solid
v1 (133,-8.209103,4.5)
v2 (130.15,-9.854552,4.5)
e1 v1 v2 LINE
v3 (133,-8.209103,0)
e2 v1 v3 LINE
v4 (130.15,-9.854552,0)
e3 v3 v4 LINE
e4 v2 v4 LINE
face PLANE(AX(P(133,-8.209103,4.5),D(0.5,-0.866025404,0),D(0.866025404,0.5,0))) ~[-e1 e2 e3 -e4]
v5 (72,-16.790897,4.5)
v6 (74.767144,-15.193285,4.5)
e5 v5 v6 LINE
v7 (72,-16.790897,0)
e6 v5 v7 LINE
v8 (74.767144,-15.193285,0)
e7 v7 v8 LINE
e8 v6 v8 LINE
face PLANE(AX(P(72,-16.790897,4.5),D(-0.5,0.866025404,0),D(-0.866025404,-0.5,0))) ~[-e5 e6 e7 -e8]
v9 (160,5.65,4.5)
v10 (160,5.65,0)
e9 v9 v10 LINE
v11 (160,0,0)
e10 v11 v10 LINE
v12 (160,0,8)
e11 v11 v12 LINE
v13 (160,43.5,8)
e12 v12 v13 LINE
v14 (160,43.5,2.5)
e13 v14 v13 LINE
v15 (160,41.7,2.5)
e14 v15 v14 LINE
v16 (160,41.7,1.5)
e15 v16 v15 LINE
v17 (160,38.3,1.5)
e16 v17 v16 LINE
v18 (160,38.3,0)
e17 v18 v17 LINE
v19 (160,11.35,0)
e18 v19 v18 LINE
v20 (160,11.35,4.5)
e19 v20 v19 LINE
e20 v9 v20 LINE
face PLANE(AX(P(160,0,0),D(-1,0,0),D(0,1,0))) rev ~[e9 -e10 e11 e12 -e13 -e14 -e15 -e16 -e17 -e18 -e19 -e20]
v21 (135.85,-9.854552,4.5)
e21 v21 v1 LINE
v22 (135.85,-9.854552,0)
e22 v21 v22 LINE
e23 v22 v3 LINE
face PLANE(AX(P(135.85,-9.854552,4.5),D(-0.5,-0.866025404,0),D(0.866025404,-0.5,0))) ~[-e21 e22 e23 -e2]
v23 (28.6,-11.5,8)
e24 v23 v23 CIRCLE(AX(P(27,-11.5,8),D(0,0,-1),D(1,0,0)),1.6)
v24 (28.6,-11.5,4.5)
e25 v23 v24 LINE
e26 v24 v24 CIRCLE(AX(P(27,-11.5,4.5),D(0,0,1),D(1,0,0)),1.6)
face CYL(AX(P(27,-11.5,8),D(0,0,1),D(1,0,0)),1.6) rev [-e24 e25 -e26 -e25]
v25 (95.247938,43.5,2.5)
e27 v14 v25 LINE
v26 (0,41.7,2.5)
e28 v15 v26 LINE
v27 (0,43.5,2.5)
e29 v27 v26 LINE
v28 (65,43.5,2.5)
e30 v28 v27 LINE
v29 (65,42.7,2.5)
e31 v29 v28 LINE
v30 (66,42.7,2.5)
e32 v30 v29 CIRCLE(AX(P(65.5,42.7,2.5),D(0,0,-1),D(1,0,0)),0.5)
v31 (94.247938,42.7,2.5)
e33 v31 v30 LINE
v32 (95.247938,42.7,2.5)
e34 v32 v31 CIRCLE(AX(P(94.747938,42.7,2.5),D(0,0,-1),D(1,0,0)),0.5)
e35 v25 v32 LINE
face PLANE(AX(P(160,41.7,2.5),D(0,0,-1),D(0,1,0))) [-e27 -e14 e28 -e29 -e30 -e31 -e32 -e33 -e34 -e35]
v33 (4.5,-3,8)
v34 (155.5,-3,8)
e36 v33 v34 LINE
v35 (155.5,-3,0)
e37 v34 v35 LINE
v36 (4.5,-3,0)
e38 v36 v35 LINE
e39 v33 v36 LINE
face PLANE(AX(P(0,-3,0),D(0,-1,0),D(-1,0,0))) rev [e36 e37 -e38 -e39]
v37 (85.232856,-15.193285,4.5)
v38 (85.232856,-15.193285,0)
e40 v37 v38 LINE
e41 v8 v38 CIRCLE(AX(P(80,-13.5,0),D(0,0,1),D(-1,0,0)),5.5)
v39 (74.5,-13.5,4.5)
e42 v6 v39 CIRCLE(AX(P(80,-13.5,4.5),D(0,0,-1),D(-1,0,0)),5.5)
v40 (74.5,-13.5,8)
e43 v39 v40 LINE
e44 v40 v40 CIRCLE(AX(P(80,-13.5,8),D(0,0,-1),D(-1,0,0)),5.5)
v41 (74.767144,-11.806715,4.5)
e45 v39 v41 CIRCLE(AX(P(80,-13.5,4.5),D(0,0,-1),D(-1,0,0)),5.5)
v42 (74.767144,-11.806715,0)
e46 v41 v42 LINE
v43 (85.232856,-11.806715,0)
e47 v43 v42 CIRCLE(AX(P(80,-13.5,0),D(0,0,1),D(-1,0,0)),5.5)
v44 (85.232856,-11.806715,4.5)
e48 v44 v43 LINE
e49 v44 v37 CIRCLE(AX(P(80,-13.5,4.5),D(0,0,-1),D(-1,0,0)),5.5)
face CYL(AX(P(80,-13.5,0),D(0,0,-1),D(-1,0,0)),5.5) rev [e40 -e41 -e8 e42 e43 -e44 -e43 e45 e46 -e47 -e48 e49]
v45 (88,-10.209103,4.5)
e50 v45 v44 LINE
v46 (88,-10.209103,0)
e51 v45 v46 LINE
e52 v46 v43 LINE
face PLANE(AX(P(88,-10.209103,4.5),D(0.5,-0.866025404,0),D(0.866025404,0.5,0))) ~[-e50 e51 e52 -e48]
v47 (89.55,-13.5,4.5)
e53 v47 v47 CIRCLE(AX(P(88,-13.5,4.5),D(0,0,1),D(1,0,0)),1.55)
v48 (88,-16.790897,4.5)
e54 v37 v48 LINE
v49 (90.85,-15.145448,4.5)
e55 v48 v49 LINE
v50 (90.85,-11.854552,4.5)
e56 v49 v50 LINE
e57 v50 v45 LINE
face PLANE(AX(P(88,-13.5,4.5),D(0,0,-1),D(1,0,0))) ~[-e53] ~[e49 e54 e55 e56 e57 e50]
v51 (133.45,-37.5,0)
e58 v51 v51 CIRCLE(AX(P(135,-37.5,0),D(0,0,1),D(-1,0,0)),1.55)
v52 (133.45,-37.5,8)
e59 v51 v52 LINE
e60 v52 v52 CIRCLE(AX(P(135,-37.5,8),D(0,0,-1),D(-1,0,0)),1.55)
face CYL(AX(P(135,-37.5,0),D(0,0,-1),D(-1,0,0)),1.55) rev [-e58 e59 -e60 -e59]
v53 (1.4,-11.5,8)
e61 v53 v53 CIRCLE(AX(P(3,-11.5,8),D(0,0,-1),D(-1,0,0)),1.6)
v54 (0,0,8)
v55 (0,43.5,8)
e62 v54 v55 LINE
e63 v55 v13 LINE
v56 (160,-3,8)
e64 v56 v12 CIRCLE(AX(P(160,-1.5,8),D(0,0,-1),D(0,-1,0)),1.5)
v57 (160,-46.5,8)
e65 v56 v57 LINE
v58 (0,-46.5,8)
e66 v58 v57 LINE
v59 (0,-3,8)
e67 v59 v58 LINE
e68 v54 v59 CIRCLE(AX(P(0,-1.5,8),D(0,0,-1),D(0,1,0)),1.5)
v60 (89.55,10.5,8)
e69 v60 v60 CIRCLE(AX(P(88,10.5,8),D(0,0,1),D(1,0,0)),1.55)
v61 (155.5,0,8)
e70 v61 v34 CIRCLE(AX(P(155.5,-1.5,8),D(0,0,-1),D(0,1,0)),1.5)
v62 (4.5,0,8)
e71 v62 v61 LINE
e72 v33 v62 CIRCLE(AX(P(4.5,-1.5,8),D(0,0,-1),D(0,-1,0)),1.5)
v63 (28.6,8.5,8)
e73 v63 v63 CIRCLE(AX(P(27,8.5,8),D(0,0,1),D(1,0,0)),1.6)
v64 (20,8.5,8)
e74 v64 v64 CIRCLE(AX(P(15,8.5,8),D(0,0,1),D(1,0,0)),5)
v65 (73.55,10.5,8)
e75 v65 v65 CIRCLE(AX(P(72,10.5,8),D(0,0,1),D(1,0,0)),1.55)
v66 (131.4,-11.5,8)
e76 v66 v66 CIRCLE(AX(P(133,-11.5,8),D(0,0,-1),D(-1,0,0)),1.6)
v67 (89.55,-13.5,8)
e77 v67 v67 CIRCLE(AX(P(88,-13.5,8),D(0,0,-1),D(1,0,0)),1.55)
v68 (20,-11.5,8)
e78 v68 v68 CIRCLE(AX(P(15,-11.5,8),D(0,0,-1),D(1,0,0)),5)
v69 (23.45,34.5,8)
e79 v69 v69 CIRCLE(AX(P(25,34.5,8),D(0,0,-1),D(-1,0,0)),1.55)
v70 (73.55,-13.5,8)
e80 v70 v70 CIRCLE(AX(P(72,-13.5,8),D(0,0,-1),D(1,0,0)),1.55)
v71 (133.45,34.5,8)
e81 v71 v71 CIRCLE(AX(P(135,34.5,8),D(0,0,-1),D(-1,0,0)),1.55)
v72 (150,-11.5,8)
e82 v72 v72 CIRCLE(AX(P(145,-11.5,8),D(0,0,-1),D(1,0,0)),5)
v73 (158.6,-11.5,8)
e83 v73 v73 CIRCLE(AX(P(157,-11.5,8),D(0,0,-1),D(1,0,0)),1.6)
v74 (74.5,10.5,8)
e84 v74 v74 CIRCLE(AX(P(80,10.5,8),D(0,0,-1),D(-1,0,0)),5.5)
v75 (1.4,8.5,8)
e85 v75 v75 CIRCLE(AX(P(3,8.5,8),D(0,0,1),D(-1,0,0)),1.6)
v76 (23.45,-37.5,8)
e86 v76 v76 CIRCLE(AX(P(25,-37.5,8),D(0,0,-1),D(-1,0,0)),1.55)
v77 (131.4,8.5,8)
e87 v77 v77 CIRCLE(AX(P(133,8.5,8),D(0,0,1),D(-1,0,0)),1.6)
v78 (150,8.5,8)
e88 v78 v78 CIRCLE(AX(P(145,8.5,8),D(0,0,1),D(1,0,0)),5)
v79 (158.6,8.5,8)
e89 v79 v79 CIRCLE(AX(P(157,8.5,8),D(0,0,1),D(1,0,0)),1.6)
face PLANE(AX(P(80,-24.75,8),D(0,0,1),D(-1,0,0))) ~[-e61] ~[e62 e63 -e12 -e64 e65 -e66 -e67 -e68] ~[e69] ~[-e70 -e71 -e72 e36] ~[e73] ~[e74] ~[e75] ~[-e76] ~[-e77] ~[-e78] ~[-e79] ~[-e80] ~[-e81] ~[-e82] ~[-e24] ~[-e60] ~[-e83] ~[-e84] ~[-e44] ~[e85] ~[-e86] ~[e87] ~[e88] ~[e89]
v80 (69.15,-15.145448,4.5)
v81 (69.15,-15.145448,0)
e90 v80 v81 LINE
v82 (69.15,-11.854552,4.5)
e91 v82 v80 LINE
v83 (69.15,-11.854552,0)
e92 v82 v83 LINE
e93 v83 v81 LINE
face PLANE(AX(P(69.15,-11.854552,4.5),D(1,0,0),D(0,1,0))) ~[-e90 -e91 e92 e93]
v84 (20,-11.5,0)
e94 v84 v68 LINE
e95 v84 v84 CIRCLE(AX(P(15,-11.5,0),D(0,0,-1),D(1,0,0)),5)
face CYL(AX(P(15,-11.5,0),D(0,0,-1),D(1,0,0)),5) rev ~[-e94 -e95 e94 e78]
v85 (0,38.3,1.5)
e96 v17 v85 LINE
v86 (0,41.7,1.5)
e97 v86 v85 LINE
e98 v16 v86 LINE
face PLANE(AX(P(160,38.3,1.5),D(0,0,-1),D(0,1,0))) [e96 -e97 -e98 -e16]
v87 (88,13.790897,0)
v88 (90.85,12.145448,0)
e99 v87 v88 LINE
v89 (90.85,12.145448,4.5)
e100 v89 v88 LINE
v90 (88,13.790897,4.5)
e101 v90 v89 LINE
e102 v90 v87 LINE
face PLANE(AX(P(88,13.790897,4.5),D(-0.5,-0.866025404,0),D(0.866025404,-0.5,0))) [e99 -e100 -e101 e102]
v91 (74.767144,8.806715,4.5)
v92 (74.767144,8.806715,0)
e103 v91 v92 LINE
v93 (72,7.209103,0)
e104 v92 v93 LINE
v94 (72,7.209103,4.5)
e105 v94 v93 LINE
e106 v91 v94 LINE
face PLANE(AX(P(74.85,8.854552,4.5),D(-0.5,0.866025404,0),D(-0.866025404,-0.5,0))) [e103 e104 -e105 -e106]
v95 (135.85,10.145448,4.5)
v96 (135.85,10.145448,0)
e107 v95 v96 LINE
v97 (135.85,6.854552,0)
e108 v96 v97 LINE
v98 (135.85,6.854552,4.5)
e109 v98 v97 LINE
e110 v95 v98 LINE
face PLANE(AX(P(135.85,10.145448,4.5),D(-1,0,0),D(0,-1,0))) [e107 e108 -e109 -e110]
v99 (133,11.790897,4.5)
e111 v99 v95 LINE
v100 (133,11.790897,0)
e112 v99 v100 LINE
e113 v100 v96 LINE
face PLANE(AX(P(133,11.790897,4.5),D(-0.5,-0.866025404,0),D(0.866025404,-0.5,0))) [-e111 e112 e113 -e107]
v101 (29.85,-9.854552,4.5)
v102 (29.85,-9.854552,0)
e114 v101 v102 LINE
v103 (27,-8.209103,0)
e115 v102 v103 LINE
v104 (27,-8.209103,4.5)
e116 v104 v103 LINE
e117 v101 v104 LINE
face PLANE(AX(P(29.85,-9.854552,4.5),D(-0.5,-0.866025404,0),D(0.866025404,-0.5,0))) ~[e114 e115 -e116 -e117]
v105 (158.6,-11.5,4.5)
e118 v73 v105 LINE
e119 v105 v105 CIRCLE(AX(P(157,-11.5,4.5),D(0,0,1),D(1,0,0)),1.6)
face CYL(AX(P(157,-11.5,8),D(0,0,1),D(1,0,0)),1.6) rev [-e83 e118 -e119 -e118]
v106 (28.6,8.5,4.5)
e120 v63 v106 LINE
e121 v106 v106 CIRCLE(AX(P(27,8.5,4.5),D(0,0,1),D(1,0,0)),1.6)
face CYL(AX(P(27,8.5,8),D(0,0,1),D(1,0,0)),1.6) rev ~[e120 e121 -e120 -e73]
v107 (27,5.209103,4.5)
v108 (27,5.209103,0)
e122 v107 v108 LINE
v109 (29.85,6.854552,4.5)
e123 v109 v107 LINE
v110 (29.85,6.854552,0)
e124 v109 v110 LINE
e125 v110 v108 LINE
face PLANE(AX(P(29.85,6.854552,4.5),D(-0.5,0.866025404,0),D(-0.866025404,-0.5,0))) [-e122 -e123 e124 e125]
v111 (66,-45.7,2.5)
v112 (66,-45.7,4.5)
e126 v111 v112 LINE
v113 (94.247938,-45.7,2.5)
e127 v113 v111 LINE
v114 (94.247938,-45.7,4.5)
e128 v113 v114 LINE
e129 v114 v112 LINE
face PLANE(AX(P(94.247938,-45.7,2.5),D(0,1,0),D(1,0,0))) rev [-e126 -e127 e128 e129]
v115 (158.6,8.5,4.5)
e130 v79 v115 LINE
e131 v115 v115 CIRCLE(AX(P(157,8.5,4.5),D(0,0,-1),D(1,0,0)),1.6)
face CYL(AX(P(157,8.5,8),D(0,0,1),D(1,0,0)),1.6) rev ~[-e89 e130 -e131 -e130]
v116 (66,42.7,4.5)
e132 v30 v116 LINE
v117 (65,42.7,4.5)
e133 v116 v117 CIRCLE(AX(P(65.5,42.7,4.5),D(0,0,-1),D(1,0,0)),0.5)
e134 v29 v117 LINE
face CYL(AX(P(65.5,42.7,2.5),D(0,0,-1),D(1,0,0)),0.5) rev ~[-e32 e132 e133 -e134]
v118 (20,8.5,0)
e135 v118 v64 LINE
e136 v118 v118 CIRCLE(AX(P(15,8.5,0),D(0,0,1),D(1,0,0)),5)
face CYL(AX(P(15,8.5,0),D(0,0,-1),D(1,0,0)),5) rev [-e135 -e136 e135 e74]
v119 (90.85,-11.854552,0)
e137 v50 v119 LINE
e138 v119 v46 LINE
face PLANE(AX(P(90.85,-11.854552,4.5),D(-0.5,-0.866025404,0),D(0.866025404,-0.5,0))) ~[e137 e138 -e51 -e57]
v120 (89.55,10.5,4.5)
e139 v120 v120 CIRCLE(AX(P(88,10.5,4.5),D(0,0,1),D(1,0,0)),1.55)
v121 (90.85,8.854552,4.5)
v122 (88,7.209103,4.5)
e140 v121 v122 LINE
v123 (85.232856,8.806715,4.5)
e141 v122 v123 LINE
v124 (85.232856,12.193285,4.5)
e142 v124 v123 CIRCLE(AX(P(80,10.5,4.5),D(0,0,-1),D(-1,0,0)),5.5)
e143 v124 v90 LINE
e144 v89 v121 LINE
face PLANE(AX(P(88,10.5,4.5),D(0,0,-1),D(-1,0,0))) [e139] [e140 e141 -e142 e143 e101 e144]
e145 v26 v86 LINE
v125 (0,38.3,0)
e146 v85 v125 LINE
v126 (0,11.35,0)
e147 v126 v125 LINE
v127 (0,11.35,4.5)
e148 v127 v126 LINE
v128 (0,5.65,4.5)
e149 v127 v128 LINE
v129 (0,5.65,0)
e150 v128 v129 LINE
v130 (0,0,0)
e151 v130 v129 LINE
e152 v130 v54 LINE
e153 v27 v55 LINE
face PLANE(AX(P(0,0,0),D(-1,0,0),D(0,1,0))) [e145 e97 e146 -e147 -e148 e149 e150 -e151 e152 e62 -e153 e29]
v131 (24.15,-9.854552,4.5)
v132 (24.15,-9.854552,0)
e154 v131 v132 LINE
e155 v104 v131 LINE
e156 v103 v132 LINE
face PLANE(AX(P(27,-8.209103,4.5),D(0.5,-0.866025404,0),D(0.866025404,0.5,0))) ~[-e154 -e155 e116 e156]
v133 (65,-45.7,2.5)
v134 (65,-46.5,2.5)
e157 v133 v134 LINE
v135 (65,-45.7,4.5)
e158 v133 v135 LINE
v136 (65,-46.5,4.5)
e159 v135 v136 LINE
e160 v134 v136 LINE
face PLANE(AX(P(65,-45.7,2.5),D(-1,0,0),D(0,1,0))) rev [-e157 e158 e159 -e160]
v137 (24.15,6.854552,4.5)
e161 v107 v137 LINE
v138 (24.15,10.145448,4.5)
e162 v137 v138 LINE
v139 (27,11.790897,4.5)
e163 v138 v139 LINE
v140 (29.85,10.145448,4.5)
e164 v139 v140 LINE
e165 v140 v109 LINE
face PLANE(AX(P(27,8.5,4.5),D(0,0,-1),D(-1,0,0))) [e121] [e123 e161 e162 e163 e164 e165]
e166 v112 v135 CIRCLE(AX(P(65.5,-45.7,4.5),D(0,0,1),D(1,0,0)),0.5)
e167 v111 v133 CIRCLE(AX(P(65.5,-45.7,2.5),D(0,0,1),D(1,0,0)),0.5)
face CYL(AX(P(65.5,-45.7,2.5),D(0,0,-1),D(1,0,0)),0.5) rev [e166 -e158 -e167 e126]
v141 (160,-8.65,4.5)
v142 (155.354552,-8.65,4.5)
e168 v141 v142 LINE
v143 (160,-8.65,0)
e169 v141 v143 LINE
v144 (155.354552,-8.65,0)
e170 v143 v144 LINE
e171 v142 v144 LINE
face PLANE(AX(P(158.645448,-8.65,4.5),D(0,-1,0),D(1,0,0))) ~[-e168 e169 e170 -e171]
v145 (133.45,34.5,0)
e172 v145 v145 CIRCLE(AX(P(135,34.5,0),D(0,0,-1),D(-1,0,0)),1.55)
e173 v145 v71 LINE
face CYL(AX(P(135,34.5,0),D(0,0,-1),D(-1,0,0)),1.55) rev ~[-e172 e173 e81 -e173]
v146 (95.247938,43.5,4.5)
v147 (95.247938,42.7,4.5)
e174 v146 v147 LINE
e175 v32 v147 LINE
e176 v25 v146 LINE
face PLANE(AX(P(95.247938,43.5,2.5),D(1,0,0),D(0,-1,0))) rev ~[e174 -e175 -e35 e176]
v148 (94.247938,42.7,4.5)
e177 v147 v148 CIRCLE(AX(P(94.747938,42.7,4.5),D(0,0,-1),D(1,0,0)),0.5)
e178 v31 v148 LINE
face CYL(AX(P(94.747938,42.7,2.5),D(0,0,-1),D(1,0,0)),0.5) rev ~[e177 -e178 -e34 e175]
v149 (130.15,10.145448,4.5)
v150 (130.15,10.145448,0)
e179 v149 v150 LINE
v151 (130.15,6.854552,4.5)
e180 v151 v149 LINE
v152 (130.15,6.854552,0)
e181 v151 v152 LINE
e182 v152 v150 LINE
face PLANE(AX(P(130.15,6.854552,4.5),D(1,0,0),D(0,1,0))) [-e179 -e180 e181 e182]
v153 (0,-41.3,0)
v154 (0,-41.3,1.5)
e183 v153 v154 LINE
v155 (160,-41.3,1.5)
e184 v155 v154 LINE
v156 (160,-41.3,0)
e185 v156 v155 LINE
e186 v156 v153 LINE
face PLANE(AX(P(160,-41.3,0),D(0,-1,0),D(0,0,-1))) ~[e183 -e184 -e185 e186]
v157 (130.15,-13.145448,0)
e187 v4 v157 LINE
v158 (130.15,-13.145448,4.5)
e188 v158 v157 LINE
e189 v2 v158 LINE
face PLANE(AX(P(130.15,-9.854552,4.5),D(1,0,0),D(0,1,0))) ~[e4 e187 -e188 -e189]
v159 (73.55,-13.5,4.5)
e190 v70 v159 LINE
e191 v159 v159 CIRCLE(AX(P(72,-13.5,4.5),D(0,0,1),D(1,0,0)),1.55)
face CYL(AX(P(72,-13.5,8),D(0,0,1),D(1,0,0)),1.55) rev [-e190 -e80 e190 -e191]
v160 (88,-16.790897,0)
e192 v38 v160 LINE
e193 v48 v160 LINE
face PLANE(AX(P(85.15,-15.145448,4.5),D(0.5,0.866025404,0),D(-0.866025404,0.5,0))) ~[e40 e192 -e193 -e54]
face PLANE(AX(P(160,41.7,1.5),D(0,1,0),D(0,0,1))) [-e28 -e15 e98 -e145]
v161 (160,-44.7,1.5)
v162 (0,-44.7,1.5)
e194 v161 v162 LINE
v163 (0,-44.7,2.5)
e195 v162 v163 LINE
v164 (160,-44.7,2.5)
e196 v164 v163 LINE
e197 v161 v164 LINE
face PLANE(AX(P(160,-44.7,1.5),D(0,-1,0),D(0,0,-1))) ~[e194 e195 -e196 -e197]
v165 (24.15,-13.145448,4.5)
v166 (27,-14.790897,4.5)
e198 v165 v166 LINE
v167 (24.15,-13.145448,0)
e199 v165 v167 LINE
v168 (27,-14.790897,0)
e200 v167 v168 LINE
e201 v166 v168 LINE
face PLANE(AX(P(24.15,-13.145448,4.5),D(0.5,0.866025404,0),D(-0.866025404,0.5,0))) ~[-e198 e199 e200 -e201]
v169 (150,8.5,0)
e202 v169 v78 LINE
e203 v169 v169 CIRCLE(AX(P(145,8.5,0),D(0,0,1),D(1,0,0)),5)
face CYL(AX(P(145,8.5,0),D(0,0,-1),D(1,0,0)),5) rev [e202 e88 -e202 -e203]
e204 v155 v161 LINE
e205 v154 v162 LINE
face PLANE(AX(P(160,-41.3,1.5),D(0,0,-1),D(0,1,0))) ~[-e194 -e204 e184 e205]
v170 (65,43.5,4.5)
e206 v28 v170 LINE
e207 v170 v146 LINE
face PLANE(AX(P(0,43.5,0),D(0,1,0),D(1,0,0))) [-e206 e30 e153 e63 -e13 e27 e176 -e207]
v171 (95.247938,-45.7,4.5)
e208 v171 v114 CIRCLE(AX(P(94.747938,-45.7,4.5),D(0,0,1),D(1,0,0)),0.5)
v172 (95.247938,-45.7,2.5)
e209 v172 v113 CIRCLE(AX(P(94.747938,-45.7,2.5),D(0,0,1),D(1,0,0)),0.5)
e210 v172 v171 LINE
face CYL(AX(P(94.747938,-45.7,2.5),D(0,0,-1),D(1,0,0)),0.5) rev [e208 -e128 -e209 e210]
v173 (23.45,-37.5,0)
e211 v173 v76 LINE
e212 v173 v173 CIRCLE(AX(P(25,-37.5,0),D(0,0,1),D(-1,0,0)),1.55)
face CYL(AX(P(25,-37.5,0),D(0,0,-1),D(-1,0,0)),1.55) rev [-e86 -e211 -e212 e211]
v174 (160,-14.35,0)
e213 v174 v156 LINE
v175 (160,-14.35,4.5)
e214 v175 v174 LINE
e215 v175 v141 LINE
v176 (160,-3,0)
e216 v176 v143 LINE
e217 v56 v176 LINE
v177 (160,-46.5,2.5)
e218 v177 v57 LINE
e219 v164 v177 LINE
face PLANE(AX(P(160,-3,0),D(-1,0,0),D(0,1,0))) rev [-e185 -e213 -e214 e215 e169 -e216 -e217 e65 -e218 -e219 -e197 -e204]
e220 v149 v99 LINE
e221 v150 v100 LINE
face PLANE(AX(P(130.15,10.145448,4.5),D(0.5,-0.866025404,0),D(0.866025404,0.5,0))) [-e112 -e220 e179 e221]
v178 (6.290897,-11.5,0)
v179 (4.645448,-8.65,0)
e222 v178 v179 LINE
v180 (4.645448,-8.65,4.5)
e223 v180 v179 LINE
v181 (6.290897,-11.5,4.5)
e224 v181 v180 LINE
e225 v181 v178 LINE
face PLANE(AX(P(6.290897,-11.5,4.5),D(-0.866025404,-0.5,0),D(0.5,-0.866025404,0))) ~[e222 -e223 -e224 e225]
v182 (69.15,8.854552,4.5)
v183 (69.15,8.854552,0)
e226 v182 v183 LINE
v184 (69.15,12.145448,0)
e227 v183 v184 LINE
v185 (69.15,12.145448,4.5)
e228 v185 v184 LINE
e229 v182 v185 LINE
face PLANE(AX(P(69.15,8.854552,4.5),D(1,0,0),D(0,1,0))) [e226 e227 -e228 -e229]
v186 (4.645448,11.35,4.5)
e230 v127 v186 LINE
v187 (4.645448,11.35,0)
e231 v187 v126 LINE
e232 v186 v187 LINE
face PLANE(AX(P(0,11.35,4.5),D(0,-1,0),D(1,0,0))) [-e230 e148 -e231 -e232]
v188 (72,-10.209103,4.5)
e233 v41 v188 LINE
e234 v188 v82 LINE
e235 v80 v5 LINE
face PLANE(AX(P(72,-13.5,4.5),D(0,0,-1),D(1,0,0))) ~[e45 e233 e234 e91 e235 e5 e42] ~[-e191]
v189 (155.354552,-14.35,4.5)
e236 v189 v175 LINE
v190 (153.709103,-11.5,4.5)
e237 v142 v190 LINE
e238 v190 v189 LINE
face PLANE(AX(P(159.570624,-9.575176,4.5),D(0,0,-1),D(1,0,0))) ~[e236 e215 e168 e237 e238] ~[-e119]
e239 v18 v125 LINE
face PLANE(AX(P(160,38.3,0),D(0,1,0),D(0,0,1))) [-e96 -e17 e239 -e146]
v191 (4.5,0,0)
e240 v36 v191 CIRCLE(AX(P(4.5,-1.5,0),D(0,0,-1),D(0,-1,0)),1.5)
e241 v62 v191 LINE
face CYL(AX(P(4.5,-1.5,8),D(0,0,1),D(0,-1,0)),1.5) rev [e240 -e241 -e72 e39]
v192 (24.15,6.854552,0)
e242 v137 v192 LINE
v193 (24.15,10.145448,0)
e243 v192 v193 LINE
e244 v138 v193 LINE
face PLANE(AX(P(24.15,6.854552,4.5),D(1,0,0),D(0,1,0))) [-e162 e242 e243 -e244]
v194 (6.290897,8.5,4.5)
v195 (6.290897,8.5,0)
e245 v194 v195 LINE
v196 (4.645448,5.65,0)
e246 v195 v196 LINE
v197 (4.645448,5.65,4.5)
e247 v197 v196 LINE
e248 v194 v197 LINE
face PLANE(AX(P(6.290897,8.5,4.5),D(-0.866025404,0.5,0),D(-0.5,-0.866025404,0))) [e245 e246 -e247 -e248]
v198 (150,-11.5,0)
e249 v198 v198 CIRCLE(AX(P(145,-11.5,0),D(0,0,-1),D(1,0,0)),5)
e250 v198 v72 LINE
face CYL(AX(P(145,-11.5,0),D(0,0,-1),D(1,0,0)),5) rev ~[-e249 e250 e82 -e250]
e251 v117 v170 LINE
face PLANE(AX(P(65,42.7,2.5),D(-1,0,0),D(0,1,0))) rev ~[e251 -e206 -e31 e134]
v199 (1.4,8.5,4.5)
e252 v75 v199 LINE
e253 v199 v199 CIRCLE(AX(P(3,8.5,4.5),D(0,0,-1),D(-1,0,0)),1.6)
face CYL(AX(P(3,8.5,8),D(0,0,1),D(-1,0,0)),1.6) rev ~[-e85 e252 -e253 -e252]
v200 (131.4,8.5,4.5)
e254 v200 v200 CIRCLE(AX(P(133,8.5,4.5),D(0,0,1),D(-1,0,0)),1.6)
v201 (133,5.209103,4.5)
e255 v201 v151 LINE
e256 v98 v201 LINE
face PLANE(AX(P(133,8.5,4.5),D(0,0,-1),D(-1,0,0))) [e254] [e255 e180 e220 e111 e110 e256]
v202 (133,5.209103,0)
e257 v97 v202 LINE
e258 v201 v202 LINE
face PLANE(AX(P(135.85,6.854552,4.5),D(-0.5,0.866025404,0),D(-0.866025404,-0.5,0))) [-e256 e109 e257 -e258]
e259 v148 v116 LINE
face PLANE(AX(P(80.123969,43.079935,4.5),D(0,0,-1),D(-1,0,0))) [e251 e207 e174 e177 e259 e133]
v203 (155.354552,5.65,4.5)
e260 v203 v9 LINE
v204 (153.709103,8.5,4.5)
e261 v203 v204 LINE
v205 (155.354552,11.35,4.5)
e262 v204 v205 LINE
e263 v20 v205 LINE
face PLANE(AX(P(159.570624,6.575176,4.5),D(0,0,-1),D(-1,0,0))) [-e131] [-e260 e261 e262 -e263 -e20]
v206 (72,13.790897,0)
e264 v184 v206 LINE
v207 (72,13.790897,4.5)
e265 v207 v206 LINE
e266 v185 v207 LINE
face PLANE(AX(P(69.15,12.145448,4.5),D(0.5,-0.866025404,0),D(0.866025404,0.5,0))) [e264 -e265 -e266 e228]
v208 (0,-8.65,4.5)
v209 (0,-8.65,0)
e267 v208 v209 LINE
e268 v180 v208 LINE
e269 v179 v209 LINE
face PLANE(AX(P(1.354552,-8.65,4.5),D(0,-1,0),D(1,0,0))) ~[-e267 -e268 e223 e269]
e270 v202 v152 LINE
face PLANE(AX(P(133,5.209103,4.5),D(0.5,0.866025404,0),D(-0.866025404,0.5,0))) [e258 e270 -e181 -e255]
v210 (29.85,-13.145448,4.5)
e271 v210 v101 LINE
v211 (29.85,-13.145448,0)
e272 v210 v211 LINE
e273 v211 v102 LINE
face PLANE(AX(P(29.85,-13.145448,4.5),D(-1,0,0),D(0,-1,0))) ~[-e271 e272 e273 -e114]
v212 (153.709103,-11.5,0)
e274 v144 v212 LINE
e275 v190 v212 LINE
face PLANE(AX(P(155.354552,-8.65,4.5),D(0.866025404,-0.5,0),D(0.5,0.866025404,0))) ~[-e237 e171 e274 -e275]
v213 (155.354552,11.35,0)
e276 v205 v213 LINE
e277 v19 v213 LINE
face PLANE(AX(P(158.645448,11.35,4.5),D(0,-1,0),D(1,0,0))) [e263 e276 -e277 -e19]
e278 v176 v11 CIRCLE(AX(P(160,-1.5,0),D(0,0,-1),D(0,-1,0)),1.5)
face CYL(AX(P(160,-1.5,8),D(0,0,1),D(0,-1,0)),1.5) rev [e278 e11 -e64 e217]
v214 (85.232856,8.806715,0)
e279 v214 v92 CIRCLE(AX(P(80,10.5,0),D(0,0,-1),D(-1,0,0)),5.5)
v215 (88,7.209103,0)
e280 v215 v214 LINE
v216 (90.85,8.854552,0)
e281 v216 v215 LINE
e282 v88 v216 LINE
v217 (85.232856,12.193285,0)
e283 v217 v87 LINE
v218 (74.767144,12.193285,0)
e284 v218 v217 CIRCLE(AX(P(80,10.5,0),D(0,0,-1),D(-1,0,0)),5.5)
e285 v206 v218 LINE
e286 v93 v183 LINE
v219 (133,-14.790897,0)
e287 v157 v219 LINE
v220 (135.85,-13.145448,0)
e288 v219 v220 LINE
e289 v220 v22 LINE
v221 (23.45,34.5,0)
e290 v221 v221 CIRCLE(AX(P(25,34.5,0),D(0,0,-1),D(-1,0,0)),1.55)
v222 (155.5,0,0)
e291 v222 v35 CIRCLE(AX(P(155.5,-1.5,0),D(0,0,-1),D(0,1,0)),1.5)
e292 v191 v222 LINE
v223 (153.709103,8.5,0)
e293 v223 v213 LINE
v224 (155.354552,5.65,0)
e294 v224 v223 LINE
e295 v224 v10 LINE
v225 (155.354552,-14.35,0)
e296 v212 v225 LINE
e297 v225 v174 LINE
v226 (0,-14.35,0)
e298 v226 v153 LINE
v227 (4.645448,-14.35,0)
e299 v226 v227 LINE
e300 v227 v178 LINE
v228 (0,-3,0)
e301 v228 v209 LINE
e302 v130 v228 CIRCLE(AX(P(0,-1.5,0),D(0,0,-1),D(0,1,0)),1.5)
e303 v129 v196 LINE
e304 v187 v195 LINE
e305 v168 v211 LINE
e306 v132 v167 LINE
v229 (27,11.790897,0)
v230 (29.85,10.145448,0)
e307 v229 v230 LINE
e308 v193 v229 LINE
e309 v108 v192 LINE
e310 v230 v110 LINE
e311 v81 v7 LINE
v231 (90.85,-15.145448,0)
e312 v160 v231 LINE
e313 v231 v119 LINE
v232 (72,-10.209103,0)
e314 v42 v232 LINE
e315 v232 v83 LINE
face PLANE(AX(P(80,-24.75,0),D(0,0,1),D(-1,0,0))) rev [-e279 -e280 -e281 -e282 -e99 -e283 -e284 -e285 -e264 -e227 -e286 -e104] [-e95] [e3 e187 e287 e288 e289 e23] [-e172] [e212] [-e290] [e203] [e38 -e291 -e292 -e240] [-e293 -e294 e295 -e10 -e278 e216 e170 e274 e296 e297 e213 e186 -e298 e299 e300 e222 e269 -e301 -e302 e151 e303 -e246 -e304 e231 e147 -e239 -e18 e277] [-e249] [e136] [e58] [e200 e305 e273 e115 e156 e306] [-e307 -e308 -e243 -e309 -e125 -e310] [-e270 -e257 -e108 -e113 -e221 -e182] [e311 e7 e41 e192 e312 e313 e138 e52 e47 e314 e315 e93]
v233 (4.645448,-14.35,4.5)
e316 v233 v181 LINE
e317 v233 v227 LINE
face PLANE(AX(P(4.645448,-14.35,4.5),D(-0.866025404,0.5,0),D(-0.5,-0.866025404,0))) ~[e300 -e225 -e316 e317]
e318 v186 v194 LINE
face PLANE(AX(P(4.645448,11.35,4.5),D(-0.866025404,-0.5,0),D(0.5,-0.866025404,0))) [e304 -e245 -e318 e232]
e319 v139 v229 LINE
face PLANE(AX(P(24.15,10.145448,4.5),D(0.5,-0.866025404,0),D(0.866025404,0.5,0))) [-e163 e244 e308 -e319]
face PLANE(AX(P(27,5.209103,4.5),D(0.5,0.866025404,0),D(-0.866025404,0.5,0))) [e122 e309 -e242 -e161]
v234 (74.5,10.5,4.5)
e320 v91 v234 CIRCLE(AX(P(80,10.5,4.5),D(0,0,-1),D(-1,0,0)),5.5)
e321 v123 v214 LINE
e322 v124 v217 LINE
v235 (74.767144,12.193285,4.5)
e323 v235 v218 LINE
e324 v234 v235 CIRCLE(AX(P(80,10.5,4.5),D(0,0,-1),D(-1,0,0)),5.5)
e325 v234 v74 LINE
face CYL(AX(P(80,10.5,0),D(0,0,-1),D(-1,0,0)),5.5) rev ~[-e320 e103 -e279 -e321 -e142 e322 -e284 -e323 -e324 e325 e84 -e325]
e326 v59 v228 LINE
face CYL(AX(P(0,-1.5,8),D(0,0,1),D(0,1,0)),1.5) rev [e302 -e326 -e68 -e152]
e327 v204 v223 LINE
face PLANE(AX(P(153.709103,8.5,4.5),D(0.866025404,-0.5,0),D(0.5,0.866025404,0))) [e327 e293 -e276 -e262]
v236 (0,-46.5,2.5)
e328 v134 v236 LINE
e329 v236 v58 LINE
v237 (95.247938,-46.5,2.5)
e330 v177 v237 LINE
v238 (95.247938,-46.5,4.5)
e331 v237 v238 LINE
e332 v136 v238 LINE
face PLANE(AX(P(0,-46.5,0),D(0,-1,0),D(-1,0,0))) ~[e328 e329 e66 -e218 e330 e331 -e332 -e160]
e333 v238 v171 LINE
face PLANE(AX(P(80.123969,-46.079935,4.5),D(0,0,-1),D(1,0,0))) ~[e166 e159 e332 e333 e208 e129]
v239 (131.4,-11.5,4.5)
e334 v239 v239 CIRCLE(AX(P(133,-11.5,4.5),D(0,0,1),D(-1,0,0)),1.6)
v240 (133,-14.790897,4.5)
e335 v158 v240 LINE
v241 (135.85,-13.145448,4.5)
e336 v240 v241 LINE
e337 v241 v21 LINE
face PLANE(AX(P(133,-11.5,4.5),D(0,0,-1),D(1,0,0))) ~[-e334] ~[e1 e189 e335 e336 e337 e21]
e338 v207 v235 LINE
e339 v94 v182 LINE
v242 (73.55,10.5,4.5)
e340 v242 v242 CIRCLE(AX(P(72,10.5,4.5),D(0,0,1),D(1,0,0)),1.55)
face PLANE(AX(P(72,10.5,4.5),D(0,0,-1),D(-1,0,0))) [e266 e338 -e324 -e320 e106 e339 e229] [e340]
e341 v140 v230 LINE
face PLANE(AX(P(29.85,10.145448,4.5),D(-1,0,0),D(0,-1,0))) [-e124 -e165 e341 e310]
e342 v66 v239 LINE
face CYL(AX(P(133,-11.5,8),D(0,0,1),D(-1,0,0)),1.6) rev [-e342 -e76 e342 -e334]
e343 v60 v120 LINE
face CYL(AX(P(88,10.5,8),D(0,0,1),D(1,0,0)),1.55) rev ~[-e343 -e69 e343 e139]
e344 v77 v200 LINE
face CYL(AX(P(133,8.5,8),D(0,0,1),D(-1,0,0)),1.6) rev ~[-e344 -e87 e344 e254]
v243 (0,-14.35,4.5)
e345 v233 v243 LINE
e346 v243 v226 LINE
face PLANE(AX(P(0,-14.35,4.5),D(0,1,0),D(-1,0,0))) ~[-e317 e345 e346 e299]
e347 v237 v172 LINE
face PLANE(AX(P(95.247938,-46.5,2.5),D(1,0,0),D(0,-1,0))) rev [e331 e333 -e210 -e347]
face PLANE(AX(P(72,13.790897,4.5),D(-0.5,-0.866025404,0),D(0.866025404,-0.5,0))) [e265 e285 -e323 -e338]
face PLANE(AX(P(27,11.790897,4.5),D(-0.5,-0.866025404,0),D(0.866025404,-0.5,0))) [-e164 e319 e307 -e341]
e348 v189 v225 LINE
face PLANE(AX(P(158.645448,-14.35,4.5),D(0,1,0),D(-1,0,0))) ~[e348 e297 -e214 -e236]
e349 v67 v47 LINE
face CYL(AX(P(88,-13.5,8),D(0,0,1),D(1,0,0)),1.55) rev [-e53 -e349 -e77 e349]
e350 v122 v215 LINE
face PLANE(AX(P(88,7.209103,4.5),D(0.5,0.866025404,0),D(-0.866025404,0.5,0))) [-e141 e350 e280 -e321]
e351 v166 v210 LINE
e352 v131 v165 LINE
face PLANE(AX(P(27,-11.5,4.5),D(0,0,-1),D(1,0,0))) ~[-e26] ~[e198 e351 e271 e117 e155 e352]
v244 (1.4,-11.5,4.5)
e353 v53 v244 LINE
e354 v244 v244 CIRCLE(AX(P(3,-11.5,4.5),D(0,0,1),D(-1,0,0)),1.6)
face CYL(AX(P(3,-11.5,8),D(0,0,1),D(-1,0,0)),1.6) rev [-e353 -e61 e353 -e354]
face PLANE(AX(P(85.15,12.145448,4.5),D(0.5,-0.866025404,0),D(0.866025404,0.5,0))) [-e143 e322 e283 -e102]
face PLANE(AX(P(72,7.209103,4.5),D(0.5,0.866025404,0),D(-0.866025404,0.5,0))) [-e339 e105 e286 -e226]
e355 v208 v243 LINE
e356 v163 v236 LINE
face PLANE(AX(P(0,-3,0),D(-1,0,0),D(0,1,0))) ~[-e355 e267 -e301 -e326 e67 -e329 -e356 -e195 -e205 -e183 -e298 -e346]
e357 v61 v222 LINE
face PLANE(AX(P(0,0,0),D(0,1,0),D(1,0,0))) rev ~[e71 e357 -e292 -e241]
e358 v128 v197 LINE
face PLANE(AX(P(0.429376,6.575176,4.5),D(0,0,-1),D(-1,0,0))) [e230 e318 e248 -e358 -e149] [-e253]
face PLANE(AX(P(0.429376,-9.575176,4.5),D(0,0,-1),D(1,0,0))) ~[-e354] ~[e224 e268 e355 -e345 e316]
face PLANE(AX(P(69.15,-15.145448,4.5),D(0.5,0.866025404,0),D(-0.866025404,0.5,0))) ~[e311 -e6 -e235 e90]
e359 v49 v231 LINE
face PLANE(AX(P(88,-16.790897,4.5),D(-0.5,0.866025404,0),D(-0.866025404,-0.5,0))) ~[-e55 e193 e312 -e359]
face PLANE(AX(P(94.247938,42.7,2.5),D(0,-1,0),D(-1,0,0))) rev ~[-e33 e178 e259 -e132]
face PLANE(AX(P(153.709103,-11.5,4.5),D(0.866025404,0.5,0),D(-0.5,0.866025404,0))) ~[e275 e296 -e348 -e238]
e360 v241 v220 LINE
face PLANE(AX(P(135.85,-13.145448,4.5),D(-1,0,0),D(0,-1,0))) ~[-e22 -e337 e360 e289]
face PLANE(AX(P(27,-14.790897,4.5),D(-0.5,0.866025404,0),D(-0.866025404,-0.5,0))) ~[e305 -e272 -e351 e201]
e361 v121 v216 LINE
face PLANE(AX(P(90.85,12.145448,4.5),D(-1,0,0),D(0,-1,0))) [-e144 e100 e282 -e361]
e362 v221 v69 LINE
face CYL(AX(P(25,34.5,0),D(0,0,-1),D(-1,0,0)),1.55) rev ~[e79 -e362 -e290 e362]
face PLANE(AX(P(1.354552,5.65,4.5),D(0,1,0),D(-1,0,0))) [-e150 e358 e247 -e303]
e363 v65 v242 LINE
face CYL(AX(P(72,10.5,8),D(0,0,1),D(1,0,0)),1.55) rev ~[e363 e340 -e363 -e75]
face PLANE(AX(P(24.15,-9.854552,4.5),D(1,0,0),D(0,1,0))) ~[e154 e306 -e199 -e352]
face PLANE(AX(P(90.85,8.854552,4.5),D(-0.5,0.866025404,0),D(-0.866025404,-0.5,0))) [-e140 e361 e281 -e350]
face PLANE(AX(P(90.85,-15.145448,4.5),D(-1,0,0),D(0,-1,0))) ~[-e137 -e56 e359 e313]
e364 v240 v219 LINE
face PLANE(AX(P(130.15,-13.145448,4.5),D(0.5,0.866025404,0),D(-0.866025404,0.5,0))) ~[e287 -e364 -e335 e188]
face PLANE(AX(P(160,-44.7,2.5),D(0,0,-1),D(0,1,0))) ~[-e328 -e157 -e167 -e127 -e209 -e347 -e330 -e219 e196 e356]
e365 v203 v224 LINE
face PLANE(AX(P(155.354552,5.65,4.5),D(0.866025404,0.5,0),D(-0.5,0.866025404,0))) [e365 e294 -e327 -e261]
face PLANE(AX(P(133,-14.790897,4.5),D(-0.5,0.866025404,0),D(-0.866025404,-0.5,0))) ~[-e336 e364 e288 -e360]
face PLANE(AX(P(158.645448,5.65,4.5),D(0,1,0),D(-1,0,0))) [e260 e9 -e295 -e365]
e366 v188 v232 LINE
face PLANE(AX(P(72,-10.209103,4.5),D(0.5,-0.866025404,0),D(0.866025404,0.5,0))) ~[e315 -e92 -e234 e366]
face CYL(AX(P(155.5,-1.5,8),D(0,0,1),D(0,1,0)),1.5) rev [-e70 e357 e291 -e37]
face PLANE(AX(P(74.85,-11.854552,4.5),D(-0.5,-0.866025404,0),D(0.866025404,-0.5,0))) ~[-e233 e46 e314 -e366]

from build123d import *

# Parameters (mm, degrees)
SKETCH_2_W           = 160
SKETCH_2_H           = 43.5
SKETCH_2_R           = 5
SKETCH_2_R_2         = 4.05
EXTRUDE_1_DEPTH      = 8
CUT_EXTRUDE_2_DEPTH  = 167.00075301
SKETCH_5_R           = 1.55
CUT_EXTRUDE_3_DEPTH  = 167.00075301
SKETCH_20_R          = 5.5
CUT_EXTRUDE_17_DEPTH = 167.00075301
SKETCH_29_R          = 1.6
CUT_EXTRUDE_18_DEPTH = 167.00075301
CUT_EXTRUDE_START    = -4.5
SKETCH_8_R           = 1.6
CUT_EXTRUDE_5_DEPTH  = 4.5
SKETCH_25_R          = 1.55
CUT_EXTRUDE_13_DEPTH = 167.00075301
CUT_EXTRUDE_11_DEPTH = 2
EXTRUDE_2_DEPTH      = 8


with BuildPart() as part:
    # 草图2 → 凸台-拉伸1 (new body)
    with BuildSketch(Plane.XY):
        with Locations((80, 21.75)):
            Rectangle(SKETCH_2_W, SKETCH_2_H)
        with Locations((15, 8.5)):
            Circle(SKETCH_2_R, mode=Mode.SUBTRACT)
        with Locations((80, 10.5)):
            Circle(SKETCH_2_R_2, mode=Mode.SUBTRACT)
        with Locations((145, 8.5)):
            Circle(SKETCH_2_R, mode=Mode.SUBTRACT)
    extrude_1 = extrude(amount=EXTRUDE_1_DEPTH)

    # 草图4 → 切除-拉伸2 (cut, through all)
    with BuildSketch(Plane(origin=(160, 0, 0), x_dir=(0, 0, -1), z_dir=(1, 0, 0))):
        Polygon((-1.5, 41.7), (-2.5, 41.7), (-2.5, 43.5), (0, 43.5), (0, 38.3), (-1.5, 38.3), align=None)
    cut_extrude_2 = extrude(amount=-CUT_EXTRUDE_2_DEPTH, mode=Mode.SUBTRACT)

    # 草图5 → 切除-拉伸3 (cut, through all)
    with BuildSketch(Plane.XY.offset(8)):
        with Locations((88, 10.5)):
            Circle(SKETCH_5_R)
        with Locations((72, 10.5)):
            Circle(SKETCH_5_R)
    cut_extrude_3 = extrude(amount=-CUT_EXTRUDE_3_DEPTH, mode=Mode.SUBTRACT)

    # 草图20 → 切除-拉伸17 (cut, through all)
    with BuildSketch(Plane(origin=(0, 0, 0), x_dir=(-1, 0, 0), z_dir=(0, 0, -1))):
        with Locations((-80, 10.5)):
            Circle(SKETCH_20_R)
    cut_extrude_17 = extrude(amount=-CUT_EXTRUDE_17_DEPTH, mode=Mode.SUBTRACT)

    # 草图29 → 切除-拉伸18 (cut, through all)
    with BuildSketch(Plane.XY.offset(8)):
        with Locations((27, 8.5)):
            Circle(SKETCH_29_R)
        with Locations((133, 8.5)):
            Circle(SKETCH_29_R)
        with Locations((3, 8.5)):
            Circle(SKETCH_29_R)
        with Locations((157, 8.5)):
            Circle(SKETCH_29_R)
    cut_extrude_18 = extrude(amount=-CUT_EXTRUDE_18_DEPTH, mode=Mode.SUBTRACT)

    # 草图8 → 切除-拉伸5 (cut)
    # profile 1 of 6: a face of its own
    with BuildSketch(Plane(origin=(0, 0, 0), x_dir=(-1, 0, 0), z_dir=(0, 0, -1)).offset(CUT_EXTRUDE_START)):
        Polygon((0, 11.35), (-4.645448267, 11.35), (-6.290896534, 8.5), (-4.645448267, 5.65), (0, 5.65), align=None)
        with Locations((-3, 8.5)):
            Circle(SKETCH_8_R, mode=Mode.SUBTRACT)
    # profile 2 of 6: a face of its own
    with BuildSketch(Plane(origin=(0, 0, 0), x_dir=(-1, 0, 0), z_dir=(0, 0, -1)).offset(CUT_EXTRUDE_START)):
        Polygon((-88, 7.209103466), (-85.15, 8.854551733), (-85.15, 12.145448267), (-88, 13.790896534), (-90.85, 12.145448267), (-90.85, 8.854551733), align=None)
    # profile 3 of 6: a face of its own
    with BuildSketch(Plane(origin=(0, 0, 0), x_dir=(-1, 0, 0), z_dir=(0, 0, -1)).offset(CUT_EXTRUDE_START)):
        Polygon((-72, 7.209103466), (-69.15, 8.854551733), (-69.15, 12.145448267), (-72, 13.790896534), (-74.85, 12.145448267), (-74.85, 8.854551733), align=None)
    # profile 4 of 6: a face of its own
    with BuildSketch(Plane(origin=(0, 0, 0), x_dir=(-1, 0, 0), z_dir=(0, 0, -1)).offset(CUT_EXTRUDE_START)):
        Polygon((-29.85, 6.854551733), (-27, 5.209103466), (-24.15, 6.854551733), (-24.15, 10.145448267), (-27, 11.790896534), (-29.85, 10.145448267), align=None)
    # profile 5 of 6: a face of its own
    with BuildSketch(Plane(origin=(0, 0, 0), x_dir=(-1, 0, 0), z_dir=(0, 0, -1)).offset(CUT_EXTRUDE_START)):
        Polygon((-133, 5.209103466), (-130.15, 6.854551733), (-130.15, 10.145448267), (-133, 11.790896534), (-135.85, 10.145448267), (-135.85, 6.854551733), align=None)
    # profile 6 of 6: a face of its own
    with BuildSketch(Plane(origin=(0, 0, 0), x_dir=(-1, 0, 0), z_dir=(0, 0, -1)).offset(CUT_EXTRUDE_START)):
        Polygon((-155.354551733, 5.65), (-153.709103466, 8.5), (-155.354551733, 11.35), (-160, 11.35), (-160, 5.65), align=None)
        with Locations((-157, 8.5)):
            Circle(SKETCH_8_R, mode=Mode.SUBTRACT)
    cut_extrude_5 = extrude(amount=CUT_EXTRUDE_5_DEPTH, mode=Mode.SUBTRACT)

    # 草图25 → 切除-拉伸13 (cut, through all)
    with BuildSketch(Plane(origin=(0, 0, 0), x_dir=(-1, 0, 0), z_dir=(0, 0, -1))):
        with Locations((-135, 34.5)):
            Circle(SKETCH_25_R)
        with Locations((-25, 34.5)):
            Circle(SKETCH_25_R)
    cut_extrude_13 = extrude(amount=-CUT_EXTRUDE_13_DEPTH, mode=Mode.SUBTRACT)

    # 草图19 → 切除-拉伸11 (cut)
    with BuildSketch(Plane(origin=(0, 0, 2.5), x_dir=(-1, 0, 0), z_dir=(0, 0, -1))):
        with BuildLine():
            Line((-65, 43.5), (-95.247938178, 43.5))
            Line((-95.247938178, 43.5), (-95.247938178, 42.7))
            ThreePointArc((-95.247938178, 42.7), (-94.747938178, 42.2), (-94.247938178, 42.7))
            Line((-94.247938178, 42.7), (-66, 42.7))
            ThreePointArc((-66, 42.7), (-65.5, 42.2), (-65, 42.7))
            Line((-65, 42.7), (-65, 43.5))
        make_face()
    cut_extrude_11 = extrude(amount=-CUT_EXTRUDE_11_DEPTH, mode=Mode.SUBTRACT)

    # 草图22 → 凸台-拉伸2 (add)
    with BuildSketch(Plane.XY.offset(8)):
        with BuildLine():
            Line((0, -3), (4.5, -3))
            ThreePointArc((4.5, -3), (3, -1.5), (4.5, 0))
            Line((4.5, 0), (0, 0))
            ThreePointArc((0, 0), (1.5, -1.5), (0, -3))
        make_face()
        with BuildLine():
            Line((160, 0), (155.5, 0))
            ThreePointArc((155.5, 0), (157, -1.5), (155.5, -3))
            Line((155.5, -3), (160, -3))
            ThreePointArc((160, -3), (158.5, -1.5), (160, 0))
        make_face()
    extrude(amount=-EXTRUDE_2_DEPTH)

    # 镜向2: 凸台-拉伸1, 切除-拉伸2, 切除-拉伸3, 切除-拉伸17, 切除-拉伸18, 切除-拉伸5, 切除-拉伸13, 切除-拉伸11 across plane
    add(extrude_1.mirror(Plane(origin=(0, -1.5, 0), x_dir=(0, 0, 1), z_dir=(0, -1, 0))))
    add(cut_extrude_2.mirror(Plane(origin=(0, -1.5, 0), x_dir=(0, 0, 1), z_dir=(0, -1, 0))), mode=Mode.SUBTRACT)
    add(cut_extrude_3.mirror(Plane(origin=(0, -1.5, 0), x_dir=(0, 0, 1), z_dir=(0, -1, 0))), mode=Mode.SUBTRACT)
    add(cut_extrude_17.mirror(Plane(origin=(0, -1.5, 0), x_dir=(0, 0, 1), z_dir=(0, -1, 0))), mode=Mode.SUBTRACT)
    add(cut_extrude_18.mirror(Plane(origin=(0, -1.5, 0), x_dir=(0, 0, 1), z_dir=(0, -1, 0))), mode=Mode.SUBTRACT)
    add(cut_extrude_5.mirror(Plane(origin=(0, -1.5, 0), x_dir=(0, 0, 1), z_dir=(0, -1, 0))), mode=Mode.SUBTRACT)
    add(cut_extrude_13.mirror(Plane(origin=(0, -1.5, 0), x_dir=(0, 0, 1), z_dir=(0, -1, 0))), mode=Mode.SUBTRACT)
    add(cut_extrude_11.mirror(Plane(origin=(0, -1.5, 0), x_dir=(0, 0, 1), z_dir=(0, -1, 0))), mode=Mode.SUBTRACT)


solid = part.part
